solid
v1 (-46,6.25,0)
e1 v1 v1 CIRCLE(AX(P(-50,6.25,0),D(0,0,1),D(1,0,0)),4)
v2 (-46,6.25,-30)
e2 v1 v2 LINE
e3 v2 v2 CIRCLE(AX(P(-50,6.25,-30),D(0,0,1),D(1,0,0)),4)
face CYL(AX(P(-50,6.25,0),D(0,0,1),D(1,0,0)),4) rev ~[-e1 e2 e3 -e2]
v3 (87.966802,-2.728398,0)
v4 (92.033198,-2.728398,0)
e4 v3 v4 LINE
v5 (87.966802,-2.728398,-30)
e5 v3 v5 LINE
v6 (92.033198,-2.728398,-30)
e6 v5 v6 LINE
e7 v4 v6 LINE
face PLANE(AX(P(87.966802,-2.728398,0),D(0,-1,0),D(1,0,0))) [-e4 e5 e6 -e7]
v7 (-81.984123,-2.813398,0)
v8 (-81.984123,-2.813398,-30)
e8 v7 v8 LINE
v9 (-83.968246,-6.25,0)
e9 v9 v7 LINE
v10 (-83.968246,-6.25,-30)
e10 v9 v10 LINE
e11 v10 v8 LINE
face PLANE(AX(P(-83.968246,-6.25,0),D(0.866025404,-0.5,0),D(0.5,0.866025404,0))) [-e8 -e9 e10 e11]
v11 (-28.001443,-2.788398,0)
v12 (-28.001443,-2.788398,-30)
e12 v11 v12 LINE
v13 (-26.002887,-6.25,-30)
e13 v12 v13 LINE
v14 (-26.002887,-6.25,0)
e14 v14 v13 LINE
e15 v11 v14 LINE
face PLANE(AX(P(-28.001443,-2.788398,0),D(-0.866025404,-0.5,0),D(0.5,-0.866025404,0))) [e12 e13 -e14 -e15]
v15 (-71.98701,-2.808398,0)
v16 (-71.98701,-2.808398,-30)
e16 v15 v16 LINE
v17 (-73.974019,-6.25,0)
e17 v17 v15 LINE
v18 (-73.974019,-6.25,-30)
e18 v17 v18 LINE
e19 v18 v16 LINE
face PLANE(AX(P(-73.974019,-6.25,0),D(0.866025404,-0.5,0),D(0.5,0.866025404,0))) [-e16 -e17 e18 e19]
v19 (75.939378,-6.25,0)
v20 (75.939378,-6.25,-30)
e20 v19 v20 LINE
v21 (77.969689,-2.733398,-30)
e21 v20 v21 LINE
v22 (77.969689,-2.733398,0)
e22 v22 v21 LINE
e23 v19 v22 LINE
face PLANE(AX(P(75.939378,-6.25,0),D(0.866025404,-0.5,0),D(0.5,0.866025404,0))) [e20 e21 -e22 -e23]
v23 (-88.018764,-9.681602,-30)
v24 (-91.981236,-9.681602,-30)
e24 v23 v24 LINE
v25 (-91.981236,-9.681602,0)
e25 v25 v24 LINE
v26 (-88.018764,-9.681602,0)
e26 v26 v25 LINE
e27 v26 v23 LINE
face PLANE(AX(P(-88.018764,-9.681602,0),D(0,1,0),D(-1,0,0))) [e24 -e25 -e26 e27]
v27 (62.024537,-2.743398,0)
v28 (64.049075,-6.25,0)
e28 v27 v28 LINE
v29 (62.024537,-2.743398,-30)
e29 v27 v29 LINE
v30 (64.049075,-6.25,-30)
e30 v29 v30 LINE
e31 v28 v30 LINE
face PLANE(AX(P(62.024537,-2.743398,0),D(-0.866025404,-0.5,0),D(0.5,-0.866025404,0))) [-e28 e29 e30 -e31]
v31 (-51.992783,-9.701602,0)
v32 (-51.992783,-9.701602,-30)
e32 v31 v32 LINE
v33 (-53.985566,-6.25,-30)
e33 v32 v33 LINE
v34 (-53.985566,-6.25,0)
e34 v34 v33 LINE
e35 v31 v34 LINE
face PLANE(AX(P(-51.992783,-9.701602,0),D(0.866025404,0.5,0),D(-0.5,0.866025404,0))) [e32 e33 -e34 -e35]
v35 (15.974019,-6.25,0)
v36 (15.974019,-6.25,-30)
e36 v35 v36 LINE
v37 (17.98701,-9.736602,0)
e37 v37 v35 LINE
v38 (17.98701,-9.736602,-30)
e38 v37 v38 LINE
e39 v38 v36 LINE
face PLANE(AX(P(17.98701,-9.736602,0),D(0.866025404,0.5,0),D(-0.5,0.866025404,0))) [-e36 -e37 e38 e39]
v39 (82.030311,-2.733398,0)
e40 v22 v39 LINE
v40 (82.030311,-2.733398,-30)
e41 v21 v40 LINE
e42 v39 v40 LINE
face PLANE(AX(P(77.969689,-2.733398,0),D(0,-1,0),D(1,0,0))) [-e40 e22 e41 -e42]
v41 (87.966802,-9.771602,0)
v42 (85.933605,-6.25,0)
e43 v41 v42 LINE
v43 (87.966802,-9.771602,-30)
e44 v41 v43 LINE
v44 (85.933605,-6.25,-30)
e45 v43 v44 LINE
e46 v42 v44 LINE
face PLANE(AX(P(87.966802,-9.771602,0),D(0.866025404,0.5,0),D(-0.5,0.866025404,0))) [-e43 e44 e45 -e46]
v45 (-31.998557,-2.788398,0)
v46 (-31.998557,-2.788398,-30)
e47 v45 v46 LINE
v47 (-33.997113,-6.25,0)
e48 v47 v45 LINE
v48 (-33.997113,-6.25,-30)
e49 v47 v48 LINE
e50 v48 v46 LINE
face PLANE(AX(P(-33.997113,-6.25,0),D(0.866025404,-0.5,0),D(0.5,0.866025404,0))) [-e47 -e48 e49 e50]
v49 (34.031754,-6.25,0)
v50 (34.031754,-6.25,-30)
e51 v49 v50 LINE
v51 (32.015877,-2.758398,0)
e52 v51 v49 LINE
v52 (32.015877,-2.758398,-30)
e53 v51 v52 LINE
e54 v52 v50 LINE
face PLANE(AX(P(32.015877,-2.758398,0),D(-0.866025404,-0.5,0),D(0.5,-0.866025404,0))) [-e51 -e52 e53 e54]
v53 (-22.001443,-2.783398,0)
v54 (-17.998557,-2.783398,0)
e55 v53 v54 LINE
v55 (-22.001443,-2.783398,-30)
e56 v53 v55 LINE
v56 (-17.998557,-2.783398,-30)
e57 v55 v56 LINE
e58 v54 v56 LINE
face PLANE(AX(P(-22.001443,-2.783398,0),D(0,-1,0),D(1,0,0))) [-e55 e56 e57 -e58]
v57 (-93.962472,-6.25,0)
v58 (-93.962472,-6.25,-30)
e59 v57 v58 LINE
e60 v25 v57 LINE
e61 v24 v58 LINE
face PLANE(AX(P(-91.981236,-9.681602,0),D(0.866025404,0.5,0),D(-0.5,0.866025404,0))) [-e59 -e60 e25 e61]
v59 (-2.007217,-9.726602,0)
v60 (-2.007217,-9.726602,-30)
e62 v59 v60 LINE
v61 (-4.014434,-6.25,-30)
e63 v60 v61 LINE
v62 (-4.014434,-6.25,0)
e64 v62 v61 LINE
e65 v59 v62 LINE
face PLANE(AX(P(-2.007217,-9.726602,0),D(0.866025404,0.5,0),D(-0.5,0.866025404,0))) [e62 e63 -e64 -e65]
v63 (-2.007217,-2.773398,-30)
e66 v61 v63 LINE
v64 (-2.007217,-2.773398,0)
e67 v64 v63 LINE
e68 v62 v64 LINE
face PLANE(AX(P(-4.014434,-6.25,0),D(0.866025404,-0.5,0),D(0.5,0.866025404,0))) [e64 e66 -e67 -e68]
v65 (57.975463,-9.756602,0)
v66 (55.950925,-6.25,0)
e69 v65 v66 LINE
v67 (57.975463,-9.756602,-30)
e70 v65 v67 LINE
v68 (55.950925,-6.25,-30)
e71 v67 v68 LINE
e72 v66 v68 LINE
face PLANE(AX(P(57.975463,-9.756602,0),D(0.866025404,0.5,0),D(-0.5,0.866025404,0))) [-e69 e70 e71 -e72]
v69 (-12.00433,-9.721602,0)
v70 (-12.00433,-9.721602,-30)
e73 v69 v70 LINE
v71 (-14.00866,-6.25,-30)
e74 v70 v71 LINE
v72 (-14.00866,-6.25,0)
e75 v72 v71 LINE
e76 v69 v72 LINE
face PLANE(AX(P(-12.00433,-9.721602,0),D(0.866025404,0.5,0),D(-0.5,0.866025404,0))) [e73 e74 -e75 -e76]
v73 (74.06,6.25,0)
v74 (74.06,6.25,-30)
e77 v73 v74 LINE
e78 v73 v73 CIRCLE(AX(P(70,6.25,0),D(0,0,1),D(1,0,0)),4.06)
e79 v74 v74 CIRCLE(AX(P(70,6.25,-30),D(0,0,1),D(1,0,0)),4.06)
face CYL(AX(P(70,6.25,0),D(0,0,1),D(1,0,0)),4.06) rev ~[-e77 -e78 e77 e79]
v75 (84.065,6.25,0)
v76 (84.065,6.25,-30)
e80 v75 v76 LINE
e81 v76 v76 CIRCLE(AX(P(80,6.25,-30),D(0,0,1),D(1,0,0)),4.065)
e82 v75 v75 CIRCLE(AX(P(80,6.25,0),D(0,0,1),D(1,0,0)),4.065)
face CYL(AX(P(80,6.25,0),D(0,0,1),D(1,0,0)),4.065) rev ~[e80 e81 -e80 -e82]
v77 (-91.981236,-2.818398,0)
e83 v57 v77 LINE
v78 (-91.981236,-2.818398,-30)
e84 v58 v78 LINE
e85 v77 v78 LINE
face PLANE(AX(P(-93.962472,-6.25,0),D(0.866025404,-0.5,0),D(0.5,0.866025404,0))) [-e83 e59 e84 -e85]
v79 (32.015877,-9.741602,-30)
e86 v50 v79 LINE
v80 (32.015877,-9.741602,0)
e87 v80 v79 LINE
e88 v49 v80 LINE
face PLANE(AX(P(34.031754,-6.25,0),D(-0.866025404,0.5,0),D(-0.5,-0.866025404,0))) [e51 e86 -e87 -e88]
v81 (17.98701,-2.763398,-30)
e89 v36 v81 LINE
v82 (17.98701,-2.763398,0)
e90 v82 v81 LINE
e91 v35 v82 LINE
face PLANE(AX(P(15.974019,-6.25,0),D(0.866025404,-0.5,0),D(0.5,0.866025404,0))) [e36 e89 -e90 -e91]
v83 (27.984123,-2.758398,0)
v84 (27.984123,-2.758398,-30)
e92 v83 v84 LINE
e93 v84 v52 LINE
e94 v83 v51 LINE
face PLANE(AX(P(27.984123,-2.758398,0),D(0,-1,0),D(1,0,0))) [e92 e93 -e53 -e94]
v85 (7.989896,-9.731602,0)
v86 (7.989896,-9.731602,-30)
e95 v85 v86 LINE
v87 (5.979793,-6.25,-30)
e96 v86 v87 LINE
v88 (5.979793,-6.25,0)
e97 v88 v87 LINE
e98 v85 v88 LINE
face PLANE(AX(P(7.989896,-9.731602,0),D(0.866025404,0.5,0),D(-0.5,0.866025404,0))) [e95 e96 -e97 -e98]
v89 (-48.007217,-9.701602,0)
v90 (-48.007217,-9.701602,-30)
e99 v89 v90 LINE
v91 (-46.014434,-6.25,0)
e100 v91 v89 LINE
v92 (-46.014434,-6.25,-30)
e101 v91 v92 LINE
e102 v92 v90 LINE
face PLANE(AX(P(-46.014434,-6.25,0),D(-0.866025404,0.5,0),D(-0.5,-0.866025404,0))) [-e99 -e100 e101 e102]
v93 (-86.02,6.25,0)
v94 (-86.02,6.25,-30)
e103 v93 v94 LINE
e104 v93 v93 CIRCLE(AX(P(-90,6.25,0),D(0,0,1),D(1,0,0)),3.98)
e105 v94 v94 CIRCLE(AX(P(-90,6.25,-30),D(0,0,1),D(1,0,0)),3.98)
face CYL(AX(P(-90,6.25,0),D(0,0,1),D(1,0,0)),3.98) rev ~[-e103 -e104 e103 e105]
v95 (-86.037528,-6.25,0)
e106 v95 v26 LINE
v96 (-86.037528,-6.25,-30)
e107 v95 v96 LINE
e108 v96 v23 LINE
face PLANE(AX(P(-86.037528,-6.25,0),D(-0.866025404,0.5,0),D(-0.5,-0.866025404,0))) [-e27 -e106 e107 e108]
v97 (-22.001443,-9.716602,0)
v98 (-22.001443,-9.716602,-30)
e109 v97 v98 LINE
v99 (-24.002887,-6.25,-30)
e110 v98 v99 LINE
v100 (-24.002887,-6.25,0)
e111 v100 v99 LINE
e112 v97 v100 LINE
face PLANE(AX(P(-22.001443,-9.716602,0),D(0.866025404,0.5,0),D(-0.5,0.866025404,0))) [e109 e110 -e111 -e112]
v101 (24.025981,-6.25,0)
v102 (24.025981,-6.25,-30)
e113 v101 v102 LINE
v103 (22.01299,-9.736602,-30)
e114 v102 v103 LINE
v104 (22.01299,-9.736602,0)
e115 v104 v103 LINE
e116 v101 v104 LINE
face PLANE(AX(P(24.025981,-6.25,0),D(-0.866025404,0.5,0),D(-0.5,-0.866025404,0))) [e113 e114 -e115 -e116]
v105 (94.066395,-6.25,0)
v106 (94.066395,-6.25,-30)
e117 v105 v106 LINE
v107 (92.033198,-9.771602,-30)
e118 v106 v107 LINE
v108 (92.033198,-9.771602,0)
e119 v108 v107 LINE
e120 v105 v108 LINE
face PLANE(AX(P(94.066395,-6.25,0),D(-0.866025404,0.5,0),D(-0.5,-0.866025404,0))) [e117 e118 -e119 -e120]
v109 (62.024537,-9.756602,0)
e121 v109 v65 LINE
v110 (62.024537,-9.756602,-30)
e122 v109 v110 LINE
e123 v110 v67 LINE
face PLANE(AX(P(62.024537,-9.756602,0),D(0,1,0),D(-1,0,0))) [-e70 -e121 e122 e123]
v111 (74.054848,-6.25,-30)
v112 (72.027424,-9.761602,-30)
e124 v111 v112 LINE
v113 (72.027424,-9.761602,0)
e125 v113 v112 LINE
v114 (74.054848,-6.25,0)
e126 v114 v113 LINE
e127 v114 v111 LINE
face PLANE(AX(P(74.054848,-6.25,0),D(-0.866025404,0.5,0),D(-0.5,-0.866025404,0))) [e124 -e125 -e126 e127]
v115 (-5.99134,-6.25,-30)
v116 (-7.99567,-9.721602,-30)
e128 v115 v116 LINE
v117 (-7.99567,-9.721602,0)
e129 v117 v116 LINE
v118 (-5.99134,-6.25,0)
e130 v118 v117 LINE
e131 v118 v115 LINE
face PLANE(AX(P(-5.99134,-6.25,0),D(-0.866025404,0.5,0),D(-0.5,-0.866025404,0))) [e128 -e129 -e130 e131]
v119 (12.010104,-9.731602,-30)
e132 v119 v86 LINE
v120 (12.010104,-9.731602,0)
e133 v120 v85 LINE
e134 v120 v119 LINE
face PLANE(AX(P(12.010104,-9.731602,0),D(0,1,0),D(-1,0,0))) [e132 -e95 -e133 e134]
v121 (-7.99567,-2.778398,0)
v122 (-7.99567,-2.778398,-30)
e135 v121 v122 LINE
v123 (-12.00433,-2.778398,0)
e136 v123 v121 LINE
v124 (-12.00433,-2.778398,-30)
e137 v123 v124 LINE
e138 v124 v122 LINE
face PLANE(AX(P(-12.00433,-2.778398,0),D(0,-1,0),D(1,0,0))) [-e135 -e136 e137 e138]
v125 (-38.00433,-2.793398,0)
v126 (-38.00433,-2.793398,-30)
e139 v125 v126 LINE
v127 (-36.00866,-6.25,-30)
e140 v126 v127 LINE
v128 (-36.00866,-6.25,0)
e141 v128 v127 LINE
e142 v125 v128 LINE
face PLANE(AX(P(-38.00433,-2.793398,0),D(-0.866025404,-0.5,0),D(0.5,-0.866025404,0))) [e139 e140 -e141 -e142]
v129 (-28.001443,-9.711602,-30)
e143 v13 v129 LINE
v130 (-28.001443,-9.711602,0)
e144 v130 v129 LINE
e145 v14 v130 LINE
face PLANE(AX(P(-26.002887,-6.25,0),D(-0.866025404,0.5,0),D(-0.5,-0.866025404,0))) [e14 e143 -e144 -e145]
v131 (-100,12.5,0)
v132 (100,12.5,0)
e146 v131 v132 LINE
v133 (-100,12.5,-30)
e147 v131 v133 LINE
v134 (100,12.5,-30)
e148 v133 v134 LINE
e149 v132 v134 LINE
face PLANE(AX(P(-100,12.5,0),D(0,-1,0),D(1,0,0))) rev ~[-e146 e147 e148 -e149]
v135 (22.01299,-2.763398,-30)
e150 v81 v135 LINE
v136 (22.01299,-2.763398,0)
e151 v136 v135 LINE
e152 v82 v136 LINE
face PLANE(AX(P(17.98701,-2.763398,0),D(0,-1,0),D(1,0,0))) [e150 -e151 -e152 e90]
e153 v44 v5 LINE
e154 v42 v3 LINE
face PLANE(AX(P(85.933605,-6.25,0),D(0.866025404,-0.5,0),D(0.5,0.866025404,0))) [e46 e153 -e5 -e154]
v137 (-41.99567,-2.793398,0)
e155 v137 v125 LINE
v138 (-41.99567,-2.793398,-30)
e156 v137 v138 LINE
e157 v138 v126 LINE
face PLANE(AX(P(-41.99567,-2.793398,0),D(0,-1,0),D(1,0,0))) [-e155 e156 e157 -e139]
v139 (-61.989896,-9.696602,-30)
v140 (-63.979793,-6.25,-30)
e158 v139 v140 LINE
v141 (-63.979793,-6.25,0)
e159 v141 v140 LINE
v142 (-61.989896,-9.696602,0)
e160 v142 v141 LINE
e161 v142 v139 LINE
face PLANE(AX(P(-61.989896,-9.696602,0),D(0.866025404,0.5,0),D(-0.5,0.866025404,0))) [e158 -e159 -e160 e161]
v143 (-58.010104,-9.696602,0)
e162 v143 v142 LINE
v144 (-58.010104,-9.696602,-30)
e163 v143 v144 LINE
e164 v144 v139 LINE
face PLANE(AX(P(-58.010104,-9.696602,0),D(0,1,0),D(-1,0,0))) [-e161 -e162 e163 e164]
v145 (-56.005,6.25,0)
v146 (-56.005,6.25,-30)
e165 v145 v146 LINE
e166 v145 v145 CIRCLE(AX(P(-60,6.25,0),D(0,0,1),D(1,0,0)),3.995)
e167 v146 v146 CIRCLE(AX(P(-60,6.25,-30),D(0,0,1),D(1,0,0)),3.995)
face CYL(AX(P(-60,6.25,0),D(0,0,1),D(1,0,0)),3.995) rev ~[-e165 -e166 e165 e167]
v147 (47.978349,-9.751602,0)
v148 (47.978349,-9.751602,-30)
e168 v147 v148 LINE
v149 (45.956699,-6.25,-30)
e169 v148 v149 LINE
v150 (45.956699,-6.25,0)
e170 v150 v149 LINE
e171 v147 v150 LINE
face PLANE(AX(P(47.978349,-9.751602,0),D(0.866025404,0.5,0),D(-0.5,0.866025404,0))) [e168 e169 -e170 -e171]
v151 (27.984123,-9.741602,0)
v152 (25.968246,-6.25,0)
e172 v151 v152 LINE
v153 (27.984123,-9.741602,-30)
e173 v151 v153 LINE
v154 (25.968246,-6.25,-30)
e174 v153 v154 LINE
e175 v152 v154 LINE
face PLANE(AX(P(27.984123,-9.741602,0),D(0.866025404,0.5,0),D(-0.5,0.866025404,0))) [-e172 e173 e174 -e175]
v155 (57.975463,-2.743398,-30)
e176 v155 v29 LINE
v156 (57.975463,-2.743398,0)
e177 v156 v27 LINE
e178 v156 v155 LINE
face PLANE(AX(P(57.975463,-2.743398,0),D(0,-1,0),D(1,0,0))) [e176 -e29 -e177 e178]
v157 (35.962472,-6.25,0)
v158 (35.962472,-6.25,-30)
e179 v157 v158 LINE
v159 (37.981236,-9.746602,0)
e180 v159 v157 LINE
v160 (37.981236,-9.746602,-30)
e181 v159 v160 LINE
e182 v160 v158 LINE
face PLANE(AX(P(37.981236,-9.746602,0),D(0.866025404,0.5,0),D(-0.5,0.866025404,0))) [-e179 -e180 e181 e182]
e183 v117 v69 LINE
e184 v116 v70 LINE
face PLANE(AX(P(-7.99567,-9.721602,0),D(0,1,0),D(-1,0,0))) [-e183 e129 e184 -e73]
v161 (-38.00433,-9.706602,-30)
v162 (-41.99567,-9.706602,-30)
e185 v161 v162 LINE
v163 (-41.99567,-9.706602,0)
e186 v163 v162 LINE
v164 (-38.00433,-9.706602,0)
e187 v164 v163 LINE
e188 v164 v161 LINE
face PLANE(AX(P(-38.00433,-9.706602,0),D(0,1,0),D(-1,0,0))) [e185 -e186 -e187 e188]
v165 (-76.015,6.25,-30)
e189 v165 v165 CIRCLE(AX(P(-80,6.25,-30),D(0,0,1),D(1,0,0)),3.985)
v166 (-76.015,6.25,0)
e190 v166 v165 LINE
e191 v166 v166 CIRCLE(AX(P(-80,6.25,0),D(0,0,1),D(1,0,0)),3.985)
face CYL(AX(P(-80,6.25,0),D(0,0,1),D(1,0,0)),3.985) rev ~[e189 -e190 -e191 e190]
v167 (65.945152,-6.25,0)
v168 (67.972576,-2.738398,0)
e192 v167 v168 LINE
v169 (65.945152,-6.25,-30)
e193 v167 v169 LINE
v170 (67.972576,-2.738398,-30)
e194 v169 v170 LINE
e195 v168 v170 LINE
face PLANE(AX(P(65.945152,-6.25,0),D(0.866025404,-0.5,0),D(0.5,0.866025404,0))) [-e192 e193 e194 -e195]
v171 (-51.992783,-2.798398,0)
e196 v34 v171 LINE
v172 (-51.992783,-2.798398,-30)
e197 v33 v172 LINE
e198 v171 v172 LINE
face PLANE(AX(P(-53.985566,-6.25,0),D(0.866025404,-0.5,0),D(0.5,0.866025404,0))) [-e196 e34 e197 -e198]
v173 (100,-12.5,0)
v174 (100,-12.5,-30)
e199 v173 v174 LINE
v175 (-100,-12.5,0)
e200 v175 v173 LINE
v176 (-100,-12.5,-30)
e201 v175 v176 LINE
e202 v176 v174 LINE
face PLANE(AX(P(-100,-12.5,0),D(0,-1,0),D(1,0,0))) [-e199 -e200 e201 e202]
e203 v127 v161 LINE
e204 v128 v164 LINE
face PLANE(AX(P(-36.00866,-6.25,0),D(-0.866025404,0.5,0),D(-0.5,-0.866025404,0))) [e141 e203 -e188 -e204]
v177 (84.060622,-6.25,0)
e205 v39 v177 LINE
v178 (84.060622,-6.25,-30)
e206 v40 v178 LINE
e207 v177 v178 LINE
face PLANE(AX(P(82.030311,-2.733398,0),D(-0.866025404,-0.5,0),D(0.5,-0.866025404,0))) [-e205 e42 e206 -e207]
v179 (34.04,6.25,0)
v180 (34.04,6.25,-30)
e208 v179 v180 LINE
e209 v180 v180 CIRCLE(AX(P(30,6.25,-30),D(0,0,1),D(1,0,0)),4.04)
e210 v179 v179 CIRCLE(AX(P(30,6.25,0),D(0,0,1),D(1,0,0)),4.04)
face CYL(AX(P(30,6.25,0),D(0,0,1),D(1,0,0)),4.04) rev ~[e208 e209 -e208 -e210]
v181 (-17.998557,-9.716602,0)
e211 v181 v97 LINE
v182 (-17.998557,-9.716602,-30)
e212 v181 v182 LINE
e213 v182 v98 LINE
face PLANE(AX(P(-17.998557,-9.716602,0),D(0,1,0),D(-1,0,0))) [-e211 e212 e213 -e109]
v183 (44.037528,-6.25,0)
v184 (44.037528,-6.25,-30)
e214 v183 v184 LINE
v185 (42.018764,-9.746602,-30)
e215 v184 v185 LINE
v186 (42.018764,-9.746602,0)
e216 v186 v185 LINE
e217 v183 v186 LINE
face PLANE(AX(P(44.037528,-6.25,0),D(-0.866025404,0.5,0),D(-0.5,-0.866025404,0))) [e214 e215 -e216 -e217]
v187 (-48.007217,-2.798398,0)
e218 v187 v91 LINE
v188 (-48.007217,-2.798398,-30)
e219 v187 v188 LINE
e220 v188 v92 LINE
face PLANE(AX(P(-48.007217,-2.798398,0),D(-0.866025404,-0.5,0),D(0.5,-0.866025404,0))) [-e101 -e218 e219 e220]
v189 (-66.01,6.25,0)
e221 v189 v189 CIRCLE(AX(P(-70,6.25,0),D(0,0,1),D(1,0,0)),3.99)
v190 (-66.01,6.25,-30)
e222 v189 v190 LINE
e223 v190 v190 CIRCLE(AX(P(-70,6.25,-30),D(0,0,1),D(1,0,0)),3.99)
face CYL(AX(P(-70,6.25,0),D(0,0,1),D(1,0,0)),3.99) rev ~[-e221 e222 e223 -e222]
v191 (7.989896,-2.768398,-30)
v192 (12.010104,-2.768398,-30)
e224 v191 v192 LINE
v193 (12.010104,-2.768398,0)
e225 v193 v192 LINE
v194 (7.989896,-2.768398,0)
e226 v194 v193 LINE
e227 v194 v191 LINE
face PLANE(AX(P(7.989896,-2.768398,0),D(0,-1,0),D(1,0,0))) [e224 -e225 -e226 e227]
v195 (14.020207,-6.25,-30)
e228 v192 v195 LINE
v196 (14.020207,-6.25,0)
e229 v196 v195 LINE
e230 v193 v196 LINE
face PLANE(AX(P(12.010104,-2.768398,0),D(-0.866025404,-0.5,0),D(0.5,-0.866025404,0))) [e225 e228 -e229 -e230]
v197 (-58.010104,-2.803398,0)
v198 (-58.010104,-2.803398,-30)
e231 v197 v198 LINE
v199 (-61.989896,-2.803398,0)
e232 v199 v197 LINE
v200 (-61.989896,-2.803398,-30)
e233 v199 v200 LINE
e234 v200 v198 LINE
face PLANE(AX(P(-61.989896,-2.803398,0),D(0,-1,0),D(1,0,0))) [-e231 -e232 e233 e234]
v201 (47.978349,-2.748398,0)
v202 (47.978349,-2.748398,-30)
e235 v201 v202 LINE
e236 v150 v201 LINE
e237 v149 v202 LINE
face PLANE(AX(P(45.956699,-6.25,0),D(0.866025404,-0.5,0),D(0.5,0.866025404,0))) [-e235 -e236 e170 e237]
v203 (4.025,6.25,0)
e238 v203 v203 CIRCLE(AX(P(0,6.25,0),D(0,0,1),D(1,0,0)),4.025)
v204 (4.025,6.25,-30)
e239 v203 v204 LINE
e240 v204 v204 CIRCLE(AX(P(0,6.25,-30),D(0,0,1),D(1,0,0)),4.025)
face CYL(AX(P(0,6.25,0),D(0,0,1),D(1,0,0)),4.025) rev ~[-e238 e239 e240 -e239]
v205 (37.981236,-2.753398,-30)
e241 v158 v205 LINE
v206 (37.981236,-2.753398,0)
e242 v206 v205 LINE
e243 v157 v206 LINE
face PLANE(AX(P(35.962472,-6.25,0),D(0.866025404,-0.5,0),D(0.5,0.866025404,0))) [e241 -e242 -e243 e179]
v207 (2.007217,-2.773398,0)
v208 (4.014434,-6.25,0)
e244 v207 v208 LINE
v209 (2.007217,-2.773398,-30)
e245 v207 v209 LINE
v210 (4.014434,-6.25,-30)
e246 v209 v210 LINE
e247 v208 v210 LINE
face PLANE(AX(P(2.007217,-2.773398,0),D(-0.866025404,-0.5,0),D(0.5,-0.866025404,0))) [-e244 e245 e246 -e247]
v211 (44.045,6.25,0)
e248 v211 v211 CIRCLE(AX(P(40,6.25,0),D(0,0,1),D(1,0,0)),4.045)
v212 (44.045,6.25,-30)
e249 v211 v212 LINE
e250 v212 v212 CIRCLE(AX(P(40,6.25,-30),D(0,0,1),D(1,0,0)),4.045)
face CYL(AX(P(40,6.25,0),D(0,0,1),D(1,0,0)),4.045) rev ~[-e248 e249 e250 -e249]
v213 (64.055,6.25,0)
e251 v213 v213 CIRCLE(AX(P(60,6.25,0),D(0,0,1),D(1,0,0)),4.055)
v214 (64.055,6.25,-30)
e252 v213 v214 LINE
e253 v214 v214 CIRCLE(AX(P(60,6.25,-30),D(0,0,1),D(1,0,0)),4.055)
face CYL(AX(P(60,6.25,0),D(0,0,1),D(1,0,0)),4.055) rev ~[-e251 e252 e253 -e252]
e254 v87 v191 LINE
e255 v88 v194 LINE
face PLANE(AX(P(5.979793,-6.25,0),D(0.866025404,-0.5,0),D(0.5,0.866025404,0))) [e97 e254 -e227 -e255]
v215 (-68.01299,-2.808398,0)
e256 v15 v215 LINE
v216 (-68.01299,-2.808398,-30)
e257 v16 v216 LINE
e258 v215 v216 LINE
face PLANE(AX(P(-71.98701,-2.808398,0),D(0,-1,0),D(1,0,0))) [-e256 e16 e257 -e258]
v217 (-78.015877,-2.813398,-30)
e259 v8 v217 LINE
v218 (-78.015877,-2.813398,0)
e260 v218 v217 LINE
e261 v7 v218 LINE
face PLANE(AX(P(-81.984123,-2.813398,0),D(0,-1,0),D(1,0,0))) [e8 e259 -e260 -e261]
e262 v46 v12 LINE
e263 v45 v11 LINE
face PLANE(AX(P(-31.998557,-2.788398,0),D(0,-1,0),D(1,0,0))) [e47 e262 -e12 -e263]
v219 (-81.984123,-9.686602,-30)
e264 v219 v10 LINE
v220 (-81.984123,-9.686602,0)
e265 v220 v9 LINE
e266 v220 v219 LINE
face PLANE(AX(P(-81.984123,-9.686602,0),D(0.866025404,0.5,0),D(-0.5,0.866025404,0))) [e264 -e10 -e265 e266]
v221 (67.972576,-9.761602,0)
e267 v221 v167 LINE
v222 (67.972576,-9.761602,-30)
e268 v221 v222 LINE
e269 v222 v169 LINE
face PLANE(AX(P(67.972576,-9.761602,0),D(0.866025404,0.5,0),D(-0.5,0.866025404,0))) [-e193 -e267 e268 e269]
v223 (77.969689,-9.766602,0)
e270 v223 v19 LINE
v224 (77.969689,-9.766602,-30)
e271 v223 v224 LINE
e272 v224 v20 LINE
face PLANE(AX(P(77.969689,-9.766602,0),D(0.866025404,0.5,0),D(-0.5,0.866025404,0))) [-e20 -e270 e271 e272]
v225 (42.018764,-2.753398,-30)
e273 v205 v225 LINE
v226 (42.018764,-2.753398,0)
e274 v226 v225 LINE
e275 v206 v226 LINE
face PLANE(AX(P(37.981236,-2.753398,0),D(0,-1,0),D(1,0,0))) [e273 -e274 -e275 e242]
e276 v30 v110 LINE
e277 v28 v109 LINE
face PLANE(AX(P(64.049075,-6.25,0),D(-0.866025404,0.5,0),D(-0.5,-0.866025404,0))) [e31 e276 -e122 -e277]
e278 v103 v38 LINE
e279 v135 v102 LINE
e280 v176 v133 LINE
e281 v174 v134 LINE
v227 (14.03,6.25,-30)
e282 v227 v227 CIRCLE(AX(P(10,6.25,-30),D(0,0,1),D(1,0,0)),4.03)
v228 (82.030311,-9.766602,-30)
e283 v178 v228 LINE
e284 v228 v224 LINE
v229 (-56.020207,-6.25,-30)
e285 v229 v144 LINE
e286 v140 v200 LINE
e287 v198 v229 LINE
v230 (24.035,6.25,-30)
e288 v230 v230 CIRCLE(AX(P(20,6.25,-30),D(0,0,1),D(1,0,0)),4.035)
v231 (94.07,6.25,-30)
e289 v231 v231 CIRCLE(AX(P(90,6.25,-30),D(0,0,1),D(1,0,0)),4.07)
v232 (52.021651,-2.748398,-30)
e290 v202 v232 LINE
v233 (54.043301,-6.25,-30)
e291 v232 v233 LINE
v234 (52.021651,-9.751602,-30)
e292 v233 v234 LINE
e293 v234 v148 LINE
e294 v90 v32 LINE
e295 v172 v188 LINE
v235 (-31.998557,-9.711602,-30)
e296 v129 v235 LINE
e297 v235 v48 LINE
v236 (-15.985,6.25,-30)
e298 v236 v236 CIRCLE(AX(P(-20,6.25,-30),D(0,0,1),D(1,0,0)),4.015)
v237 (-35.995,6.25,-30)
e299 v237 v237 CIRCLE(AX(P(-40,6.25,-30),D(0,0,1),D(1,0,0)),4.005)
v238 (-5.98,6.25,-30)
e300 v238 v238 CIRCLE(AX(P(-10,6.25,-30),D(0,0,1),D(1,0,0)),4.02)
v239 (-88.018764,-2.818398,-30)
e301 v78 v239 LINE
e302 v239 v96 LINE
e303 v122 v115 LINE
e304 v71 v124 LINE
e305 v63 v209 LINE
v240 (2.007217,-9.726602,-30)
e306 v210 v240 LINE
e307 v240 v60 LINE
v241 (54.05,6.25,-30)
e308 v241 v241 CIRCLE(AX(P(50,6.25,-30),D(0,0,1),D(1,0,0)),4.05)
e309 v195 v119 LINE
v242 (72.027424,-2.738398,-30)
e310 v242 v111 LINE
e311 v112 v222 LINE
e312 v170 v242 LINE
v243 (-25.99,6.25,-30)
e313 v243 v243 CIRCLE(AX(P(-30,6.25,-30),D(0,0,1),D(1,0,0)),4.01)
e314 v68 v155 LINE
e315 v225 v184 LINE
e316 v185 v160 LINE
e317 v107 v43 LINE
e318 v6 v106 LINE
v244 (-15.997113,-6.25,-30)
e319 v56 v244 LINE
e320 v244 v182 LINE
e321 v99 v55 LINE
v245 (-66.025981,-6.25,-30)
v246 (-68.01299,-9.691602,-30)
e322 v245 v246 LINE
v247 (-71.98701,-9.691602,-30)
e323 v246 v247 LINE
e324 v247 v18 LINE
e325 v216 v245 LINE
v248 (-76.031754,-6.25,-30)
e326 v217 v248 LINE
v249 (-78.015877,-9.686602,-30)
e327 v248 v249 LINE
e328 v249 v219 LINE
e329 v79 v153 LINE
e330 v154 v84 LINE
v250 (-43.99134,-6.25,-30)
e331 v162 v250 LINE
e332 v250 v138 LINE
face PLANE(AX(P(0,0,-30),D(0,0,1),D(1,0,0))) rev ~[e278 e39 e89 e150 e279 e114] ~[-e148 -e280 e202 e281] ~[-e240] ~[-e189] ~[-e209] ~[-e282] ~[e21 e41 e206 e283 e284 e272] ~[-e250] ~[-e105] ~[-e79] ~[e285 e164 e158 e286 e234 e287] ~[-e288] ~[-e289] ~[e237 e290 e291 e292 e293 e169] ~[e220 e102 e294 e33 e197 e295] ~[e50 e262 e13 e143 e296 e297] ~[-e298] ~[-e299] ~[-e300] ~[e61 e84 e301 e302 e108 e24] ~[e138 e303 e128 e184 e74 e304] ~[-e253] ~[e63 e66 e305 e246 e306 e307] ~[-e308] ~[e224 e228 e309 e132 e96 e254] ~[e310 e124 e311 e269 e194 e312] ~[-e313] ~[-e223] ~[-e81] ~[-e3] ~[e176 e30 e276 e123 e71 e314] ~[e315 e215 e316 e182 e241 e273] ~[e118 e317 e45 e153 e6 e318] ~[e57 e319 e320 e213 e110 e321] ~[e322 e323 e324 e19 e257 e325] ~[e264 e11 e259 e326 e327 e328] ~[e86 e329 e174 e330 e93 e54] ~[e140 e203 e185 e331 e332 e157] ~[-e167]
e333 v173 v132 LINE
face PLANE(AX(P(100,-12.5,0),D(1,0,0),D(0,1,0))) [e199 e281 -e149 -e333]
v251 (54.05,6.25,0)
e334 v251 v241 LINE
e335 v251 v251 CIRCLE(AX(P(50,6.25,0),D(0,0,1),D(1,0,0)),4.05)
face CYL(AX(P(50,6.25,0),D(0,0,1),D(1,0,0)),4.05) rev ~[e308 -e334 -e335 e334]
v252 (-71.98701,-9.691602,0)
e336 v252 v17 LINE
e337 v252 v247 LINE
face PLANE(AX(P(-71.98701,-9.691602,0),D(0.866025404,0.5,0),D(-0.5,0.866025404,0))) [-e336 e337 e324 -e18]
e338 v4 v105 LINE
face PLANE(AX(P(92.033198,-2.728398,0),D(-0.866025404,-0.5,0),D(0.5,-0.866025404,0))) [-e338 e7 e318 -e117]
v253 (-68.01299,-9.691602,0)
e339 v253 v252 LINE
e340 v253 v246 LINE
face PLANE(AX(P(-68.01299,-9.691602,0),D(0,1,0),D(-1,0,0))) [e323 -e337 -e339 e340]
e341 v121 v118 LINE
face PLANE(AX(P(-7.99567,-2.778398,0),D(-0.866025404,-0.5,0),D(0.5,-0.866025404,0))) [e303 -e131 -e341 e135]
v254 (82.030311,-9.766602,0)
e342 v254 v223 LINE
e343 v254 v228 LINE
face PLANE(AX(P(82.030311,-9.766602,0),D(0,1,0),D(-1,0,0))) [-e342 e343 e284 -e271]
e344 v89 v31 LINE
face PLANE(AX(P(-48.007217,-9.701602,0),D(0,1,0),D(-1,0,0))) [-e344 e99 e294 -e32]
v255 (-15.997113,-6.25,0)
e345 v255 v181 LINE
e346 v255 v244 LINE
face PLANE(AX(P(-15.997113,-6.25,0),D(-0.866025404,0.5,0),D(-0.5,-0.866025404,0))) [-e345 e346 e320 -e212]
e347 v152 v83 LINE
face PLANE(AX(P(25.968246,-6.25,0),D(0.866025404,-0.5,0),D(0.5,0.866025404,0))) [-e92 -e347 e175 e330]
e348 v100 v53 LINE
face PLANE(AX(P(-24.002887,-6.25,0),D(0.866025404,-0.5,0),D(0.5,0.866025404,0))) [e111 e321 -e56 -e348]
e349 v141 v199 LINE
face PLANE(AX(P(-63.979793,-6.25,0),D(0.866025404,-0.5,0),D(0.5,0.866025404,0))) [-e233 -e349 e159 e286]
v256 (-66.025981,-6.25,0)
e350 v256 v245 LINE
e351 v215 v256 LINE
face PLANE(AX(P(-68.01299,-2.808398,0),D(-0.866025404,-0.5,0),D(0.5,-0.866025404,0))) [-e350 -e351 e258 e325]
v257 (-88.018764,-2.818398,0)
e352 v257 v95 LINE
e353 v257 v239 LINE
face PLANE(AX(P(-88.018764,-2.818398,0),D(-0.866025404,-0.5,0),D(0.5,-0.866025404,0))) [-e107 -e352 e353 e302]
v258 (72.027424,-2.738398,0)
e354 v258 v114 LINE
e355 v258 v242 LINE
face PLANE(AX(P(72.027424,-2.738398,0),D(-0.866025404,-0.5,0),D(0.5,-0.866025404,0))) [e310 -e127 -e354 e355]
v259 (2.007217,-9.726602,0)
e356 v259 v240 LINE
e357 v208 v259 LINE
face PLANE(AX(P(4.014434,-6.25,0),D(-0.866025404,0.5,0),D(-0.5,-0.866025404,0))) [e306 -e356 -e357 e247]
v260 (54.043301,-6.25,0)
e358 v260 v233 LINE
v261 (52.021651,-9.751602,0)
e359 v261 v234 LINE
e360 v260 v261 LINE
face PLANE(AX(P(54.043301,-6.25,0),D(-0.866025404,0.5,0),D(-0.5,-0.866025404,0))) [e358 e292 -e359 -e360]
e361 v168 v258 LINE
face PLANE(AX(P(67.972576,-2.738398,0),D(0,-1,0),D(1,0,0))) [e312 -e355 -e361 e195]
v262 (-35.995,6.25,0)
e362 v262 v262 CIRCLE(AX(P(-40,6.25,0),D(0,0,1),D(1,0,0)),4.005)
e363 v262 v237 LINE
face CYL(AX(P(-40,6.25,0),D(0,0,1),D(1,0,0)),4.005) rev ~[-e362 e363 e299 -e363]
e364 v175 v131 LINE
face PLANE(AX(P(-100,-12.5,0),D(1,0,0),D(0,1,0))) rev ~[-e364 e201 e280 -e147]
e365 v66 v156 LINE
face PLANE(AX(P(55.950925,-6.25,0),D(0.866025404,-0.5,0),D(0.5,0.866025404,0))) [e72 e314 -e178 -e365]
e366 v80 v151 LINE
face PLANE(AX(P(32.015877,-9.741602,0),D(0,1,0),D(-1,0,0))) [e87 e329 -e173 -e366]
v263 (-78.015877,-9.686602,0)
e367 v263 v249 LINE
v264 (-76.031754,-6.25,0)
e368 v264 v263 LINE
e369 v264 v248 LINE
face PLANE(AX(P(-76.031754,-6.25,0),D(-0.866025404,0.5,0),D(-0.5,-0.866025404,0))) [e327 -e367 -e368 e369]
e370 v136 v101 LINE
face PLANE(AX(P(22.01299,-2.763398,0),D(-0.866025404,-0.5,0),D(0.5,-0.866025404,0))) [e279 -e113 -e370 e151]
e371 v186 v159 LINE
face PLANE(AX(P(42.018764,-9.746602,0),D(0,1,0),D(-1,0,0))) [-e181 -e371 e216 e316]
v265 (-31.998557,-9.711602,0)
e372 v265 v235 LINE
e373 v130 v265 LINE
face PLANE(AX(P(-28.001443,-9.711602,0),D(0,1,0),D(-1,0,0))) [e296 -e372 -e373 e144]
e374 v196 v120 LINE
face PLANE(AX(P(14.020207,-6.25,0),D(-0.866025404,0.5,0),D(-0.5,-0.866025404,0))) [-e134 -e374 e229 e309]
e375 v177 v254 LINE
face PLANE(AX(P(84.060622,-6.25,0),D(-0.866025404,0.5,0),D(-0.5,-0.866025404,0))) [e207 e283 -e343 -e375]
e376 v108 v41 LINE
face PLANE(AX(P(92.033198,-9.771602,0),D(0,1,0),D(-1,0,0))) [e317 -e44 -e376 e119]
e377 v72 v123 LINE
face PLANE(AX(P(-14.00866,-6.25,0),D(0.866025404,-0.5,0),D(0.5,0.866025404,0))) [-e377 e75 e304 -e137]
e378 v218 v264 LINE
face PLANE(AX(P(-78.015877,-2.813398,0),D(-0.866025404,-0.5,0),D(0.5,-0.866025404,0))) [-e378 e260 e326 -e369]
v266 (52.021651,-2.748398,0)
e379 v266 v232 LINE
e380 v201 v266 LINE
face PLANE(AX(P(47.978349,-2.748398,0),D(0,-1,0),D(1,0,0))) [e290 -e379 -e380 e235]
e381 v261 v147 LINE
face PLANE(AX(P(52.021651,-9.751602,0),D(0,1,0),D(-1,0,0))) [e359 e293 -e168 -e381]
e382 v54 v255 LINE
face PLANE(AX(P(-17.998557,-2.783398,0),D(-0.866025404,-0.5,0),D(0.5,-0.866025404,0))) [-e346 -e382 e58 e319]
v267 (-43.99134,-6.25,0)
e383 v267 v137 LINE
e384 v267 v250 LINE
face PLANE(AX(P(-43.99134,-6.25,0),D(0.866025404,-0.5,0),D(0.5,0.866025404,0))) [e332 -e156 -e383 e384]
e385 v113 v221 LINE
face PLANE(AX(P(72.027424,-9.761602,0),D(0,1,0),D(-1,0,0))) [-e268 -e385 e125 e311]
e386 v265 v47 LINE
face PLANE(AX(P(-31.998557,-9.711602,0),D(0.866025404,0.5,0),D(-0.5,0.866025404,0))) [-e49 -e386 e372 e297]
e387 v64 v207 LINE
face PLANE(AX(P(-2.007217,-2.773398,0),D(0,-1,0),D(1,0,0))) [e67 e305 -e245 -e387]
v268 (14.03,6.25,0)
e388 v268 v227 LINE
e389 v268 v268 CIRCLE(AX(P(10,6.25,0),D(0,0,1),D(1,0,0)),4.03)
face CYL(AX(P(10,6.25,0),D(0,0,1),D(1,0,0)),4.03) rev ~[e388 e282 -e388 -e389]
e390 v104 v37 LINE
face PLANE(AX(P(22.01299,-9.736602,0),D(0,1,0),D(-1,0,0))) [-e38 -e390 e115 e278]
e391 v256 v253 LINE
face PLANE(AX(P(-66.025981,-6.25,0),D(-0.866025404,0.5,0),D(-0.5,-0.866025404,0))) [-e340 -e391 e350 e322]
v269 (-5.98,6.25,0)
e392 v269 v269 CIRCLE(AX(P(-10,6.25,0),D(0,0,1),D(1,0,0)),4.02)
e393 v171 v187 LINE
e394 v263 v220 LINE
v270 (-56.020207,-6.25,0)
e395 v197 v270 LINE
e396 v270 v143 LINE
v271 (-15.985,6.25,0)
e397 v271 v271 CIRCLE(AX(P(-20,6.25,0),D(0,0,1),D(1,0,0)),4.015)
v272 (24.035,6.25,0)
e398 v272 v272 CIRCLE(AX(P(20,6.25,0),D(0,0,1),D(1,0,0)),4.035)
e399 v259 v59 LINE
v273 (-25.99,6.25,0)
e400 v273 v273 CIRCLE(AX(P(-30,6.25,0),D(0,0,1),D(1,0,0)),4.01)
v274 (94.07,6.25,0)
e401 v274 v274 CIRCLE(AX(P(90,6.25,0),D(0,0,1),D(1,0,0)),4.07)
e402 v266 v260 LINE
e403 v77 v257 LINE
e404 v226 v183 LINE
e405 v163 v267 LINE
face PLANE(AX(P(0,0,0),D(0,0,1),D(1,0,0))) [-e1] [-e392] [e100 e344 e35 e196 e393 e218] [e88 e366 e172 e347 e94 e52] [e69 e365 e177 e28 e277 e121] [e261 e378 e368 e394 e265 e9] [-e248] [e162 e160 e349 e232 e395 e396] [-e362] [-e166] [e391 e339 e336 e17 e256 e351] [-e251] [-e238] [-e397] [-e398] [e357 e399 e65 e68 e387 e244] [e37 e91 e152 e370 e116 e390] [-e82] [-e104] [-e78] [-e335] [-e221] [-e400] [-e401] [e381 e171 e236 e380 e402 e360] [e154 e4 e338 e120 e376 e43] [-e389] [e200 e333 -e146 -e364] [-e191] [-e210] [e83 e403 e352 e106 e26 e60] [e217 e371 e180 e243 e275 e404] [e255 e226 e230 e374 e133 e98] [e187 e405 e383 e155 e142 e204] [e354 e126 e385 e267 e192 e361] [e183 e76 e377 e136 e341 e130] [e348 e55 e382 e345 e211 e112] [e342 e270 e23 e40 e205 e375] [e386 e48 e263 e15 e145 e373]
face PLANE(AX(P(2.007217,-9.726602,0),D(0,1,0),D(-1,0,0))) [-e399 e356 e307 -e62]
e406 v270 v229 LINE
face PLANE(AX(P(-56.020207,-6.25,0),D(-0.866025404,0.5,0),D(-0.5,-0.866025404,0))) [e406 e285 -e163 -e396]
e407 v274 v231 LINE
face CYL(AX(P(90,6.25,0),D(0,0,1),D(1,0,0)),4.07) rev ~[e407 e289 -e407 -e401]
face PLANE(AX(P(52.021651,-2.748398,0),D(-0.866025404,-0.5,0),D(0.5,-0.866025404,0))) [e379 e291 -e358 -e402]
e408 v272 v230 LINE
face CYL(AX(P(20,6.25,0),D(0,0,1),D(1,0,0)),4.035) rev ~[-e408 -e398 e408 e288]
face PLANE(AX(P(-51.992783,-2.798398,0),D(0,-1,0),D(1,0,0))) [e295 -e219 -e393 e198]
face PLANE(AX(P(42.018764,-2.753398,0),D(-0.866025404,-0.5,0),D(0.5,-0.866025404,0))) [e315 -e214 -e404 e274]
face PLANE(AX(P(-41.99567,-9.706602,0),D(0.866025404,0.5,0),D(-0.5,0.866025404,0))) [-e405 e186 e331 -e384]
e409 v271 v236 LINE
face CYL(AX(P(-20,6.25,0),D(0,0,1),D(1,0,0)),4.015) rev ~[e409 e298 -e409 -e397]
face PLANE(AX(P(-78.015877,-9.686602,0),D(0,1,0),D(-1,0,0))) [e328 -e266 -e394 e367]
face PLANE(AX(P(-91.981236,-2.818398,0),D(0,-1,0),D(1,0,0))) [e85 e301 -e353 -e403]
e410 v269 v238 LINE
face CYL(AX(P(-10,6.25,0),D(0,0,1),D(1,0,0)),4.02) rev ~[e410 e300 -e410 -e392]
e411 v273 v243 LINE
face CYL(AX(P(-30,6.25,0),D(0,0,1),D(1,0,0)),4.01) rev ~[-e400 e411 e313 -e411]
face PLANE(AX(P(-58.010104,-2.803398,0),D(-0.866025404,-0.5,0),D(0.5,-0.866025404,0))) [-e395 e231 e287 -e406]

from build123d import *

# Parameters (mm, degrees)
SKETCH1_W           = 200
SKETCH1_H           = 25
SKETCH1_R           = 3.98
SKETCH1_R_2         = 3.985
SKETCH1_R_3         = 3.99
SKETCH1_R_4         = 3.995
SKETCH1_R_5         = 4
SKETCH1_R_6         = 4.005
SKETCH1_R_7         = 4.01
SKETCH1_R_8         = 4.015
SKETCH1_R_9         = 4.02
SKETCH1_R_10        = 4.025
SKETCH1_R_11        = 4.03
SKETCH1_R_12        = 4.035
SKETCH1_R_13        = 4.04
SKETCH1_R_14        = 4.045
SKETCH1_R_15        = 4.05
SKETCH1_R_16        = 4.055
SKETCH1_R_17        = 4.06
SKETCH1_R_18        = 4.065
SKETCH1_R_19        = 4.07
BOSS_EXTRUDE1_DEPTH = 30


with BuildPart() as part:
    # Sketch1 → Boss-Extrude1 (new body)
    with BuildSketch(Plane.XY):
        Rectangle(SKETCH1_W, SKETCH1_H)
        with Locations((-90, 6.25)):
            Circle(SKETCH1_R, mode=Mode.SUBTRACT)
        with Locations((-80, 6.25)):
            Circle(SKETCH1_R_2, mode=Mode.SUBTRACT)
        with Locations((-70, 6.25)):
            Circle(SKETCH1_R_3, mode=Mode.SUBTRACT)
        with Locations((-60, 6.25)):
            Circle(SKETCH1_R_4, mode=Mode.SUBTRACT)
        with Locations((-50, 6.25)):
            Circle(SKETCH1_R_5, mode=Mode.SUBTRACT)
        with Locations((-40, 6.25)):
            Circle(SKETCH1_R_6, mode=Mode.SUBTRACT)
        with Locations((-30, 6.25)):
            Circle(SKETCH1_R_7, mode=Mode.SUBTRACT)
        with Locations((-20, 6.25)):
            Circle(SKETCH1_R_8, mode=Mode.SUBTRACT)
        with Locations((-10, 6.25)):
            Circle(SKETCH1_R_9, mode=Mode.SUBTRACT)
        with Locations((0, 6.25)):
            Circle(SKETCH1_R_10, mode=Mode.SUBTRACT)
        with Locations((10, 6.25)):
            Circle(SKETCH1_R_11, mode=Mode.SUBTRACT)
        with Locations((20, 6.25)):
            Circle(SKETCH1_R_12, mode=Mode.SUBTRACT)
        with Locations((30, 6.25)):
            Circle(SKETCH1_R_13, mode=Mode.SUBTRACT)
        with Locations((40, 6.25)):
            Circle(SKETCH1_R_14, mode=Mode.SUBTRACT)
        with Locations((50, 6.25)):
            Circle(SKETCH1_R_15, mode=Mode.SUBTRACT)
        with Locations((60, 6.25)):
            Circle(SKETCH1_R_16, mode=Mode.SUBTRACT)
        with Locations((70, 6.25)):
            Circle(SKETCH1_R_17, mode=Mode.SUBTRACT)
        with Locations((80, 6.25)):
            Circle(SKETCH1_R_18, mode=Mode.SUBTRACT)
        with Locations((90, 6.25)):
            Circle(SKETCH1_R_19, mode=Mode.SUBTRACT)
        Polygon((-91.981236116, -2.818398385), (-88.018763884, -2.818398385), (-86.037527767, -6.25), (-88.018763884, -9.681601615), (-91.981236116, -9.681601615), (-93.962472233, -6.25), align=None, mode=Mode.SUBTRACT)
        Polygon((-81.984122868, -2.813398385), (-78.015877132, -2.813398385), (-76.031754265, -6.25), (-78.015877132, -9.686601615), (-81.984122868, -9.686601615), (-83.968245735, -6.25), align=None, mode=Mode.SUBTRACT)
        Polygon((-71.987009619, -2.808398385), (-68.012990381, -2.808398385), (-66.025980762, -6.25), (-68.012990381, -9.691601615), (-71.987009619, -9.691601615), (-73.974019238, -6.25), align=None, mode=Mode.SUBTRACT)
        Polygon((-61.98989637, -2.803398385), (-58.01010363, -2.803398385), (-56.020207259, -6.25), (-58.01010363, -9.696601615), (-61.98989637, -9.696601615), (-63.979792741, -6.25), align=None, mode=Mode.SUBTRACT)
        Polygon((-51.992783122, -2.798398385), (-48.007216878, -2.798398385), (-46.014433757, -6.25), (-48.007216878, -9.701601615), (-51.992783122, -9.701601615), (-53.985566243, -6.25), align=None, mode=Mode.SUBTRACT)
        Polygon((-41.995669873, -2.793398385), (-38.004330127, -2.793398385), (-36.008660254, -6.25), (-38.004330127, -9.706601615), (-41.995669873, -9.706601615), (-43.991339746, -6.25), align=None, mode=Mode.SUBTRACT)
        Polygon((-31.998556624, -2.788398385), (-28.001443376, -2.788398385), (-26.002886751, -6.25), (-28.001443376, -9.711601615), (-31.998556624, -9.711601615), (-33.997113249, -6.25), align=None, mode=Mode.SUBTRACT)
        Polygon((-22.001443376, -2.783398385), (-17.998556624, -2.783398385), (-15.997113249, -6.25), (-17.998556624, -9.716601615), (-22.001443376, -9.716601615), (-24.002886751, -6.25), align=None, mode=Mode.SUBTRACT)
        Polygon((-12.004330127, -2.778398385), (-7.995669873, -2.778398385), (-5.991339746, -6.25), (-7.995669873, -9.721601615), (-12.004330127, -9.721601615), (-14.008660254, -6.25), align=None, mode=Mode.SUBTRACT)
        Polygon((-2.007216878, -2.773398385), (2.007216878, -2.773398385), (4.014433757, -6.25), (2.007216878, -9.726601615), (-2.007216878, -9.726601615), (-4.014433757, -6.25), align=None, mode=Mode.SUBTRACT)
        Polygon((7.98989637, -2.768398385), (12.01010363, -2.768398385), (14.020207259, -6.25), (12.01010363, -9.731601615), (7.98989637, -9.731601615), (5.979792741, -6.25), align=None, mode=Mode.SUBTRACT)
        Polygon((17.987009619, -2.763398385), (22.012990381, -2.763398385), (24.025980762, -6.25), (22.012990381, -9.736601615), (17.987009619, -9.736601615), (15.974019238, -6.25), align=None, mode=Mode.SUBTRACT)
        Polygon((27.984122868, -2.758398385), (32.015877132, -2.758398385), (34.031754265, -6.25), (32.015877132, -9.741601615), (27.984122868, -9.741601615), (25.968245735, -6.25), align=None, mode=Mode.SUBTRACT)
        Polygon((37.981236116, -2.753398385), (42.018763884, -2.753398385), (44.037527767, -6.25), (42.018763884, -9.746601615), (37.981236116, -9.746601615), (35.962472233, -6.25), align=None, mode=Mode.SUBTRACT)
        Polygon((47.978349365, -2.748398385), (52.021650635, -2.748398385), (54.04330127, -6.25), (52.021650635, -9.751601615), (47.978349365, -9.751601615), (45.95669873, -6.25), align=None, mode=Mode.SUBTRACT)
        Polygon((57.975462614, -2.743398385), (62.024537386, -2.743398385), (64.049074773, -6.25), (62.024537386, -9.756601615), (57.975462614, -9.756601615), (55.950925227, -6.25), align=None, mode=Mode.SUBTRACT)
        Polygon((67.972575862, -2.738398385), (72.027424138, -2.738398385), (74.054848276, -6.25), (72.027424138, -9.761601615), (67.972575862, -9.761601615), (65.945151724, -6.25), align=None, mode=Mode.SUBTRACT)
        Polygon((77.969689111, -2.733398385), (82.030310889, -2.733398385), (84.060621778, -6.25), (82.030310889, -9.766601615), (77.969689111, -9.766601615), (75.939378222, -6.25), align=None, mode=Mode.SUBTRACT)
        Polygon((87.96680236, -2.728398385), (92.03319764, -2.728398385), (94.066395281, -6.25), (92.03319764, -9.771601615), (87.96680236, -9.771601615), (85.933604719, -6.25), align=None, mode=Mode.SUBTRACT)
    extrude(amount=-BOSS_EXTRUDE1_DEPTH)


solid = part.part
